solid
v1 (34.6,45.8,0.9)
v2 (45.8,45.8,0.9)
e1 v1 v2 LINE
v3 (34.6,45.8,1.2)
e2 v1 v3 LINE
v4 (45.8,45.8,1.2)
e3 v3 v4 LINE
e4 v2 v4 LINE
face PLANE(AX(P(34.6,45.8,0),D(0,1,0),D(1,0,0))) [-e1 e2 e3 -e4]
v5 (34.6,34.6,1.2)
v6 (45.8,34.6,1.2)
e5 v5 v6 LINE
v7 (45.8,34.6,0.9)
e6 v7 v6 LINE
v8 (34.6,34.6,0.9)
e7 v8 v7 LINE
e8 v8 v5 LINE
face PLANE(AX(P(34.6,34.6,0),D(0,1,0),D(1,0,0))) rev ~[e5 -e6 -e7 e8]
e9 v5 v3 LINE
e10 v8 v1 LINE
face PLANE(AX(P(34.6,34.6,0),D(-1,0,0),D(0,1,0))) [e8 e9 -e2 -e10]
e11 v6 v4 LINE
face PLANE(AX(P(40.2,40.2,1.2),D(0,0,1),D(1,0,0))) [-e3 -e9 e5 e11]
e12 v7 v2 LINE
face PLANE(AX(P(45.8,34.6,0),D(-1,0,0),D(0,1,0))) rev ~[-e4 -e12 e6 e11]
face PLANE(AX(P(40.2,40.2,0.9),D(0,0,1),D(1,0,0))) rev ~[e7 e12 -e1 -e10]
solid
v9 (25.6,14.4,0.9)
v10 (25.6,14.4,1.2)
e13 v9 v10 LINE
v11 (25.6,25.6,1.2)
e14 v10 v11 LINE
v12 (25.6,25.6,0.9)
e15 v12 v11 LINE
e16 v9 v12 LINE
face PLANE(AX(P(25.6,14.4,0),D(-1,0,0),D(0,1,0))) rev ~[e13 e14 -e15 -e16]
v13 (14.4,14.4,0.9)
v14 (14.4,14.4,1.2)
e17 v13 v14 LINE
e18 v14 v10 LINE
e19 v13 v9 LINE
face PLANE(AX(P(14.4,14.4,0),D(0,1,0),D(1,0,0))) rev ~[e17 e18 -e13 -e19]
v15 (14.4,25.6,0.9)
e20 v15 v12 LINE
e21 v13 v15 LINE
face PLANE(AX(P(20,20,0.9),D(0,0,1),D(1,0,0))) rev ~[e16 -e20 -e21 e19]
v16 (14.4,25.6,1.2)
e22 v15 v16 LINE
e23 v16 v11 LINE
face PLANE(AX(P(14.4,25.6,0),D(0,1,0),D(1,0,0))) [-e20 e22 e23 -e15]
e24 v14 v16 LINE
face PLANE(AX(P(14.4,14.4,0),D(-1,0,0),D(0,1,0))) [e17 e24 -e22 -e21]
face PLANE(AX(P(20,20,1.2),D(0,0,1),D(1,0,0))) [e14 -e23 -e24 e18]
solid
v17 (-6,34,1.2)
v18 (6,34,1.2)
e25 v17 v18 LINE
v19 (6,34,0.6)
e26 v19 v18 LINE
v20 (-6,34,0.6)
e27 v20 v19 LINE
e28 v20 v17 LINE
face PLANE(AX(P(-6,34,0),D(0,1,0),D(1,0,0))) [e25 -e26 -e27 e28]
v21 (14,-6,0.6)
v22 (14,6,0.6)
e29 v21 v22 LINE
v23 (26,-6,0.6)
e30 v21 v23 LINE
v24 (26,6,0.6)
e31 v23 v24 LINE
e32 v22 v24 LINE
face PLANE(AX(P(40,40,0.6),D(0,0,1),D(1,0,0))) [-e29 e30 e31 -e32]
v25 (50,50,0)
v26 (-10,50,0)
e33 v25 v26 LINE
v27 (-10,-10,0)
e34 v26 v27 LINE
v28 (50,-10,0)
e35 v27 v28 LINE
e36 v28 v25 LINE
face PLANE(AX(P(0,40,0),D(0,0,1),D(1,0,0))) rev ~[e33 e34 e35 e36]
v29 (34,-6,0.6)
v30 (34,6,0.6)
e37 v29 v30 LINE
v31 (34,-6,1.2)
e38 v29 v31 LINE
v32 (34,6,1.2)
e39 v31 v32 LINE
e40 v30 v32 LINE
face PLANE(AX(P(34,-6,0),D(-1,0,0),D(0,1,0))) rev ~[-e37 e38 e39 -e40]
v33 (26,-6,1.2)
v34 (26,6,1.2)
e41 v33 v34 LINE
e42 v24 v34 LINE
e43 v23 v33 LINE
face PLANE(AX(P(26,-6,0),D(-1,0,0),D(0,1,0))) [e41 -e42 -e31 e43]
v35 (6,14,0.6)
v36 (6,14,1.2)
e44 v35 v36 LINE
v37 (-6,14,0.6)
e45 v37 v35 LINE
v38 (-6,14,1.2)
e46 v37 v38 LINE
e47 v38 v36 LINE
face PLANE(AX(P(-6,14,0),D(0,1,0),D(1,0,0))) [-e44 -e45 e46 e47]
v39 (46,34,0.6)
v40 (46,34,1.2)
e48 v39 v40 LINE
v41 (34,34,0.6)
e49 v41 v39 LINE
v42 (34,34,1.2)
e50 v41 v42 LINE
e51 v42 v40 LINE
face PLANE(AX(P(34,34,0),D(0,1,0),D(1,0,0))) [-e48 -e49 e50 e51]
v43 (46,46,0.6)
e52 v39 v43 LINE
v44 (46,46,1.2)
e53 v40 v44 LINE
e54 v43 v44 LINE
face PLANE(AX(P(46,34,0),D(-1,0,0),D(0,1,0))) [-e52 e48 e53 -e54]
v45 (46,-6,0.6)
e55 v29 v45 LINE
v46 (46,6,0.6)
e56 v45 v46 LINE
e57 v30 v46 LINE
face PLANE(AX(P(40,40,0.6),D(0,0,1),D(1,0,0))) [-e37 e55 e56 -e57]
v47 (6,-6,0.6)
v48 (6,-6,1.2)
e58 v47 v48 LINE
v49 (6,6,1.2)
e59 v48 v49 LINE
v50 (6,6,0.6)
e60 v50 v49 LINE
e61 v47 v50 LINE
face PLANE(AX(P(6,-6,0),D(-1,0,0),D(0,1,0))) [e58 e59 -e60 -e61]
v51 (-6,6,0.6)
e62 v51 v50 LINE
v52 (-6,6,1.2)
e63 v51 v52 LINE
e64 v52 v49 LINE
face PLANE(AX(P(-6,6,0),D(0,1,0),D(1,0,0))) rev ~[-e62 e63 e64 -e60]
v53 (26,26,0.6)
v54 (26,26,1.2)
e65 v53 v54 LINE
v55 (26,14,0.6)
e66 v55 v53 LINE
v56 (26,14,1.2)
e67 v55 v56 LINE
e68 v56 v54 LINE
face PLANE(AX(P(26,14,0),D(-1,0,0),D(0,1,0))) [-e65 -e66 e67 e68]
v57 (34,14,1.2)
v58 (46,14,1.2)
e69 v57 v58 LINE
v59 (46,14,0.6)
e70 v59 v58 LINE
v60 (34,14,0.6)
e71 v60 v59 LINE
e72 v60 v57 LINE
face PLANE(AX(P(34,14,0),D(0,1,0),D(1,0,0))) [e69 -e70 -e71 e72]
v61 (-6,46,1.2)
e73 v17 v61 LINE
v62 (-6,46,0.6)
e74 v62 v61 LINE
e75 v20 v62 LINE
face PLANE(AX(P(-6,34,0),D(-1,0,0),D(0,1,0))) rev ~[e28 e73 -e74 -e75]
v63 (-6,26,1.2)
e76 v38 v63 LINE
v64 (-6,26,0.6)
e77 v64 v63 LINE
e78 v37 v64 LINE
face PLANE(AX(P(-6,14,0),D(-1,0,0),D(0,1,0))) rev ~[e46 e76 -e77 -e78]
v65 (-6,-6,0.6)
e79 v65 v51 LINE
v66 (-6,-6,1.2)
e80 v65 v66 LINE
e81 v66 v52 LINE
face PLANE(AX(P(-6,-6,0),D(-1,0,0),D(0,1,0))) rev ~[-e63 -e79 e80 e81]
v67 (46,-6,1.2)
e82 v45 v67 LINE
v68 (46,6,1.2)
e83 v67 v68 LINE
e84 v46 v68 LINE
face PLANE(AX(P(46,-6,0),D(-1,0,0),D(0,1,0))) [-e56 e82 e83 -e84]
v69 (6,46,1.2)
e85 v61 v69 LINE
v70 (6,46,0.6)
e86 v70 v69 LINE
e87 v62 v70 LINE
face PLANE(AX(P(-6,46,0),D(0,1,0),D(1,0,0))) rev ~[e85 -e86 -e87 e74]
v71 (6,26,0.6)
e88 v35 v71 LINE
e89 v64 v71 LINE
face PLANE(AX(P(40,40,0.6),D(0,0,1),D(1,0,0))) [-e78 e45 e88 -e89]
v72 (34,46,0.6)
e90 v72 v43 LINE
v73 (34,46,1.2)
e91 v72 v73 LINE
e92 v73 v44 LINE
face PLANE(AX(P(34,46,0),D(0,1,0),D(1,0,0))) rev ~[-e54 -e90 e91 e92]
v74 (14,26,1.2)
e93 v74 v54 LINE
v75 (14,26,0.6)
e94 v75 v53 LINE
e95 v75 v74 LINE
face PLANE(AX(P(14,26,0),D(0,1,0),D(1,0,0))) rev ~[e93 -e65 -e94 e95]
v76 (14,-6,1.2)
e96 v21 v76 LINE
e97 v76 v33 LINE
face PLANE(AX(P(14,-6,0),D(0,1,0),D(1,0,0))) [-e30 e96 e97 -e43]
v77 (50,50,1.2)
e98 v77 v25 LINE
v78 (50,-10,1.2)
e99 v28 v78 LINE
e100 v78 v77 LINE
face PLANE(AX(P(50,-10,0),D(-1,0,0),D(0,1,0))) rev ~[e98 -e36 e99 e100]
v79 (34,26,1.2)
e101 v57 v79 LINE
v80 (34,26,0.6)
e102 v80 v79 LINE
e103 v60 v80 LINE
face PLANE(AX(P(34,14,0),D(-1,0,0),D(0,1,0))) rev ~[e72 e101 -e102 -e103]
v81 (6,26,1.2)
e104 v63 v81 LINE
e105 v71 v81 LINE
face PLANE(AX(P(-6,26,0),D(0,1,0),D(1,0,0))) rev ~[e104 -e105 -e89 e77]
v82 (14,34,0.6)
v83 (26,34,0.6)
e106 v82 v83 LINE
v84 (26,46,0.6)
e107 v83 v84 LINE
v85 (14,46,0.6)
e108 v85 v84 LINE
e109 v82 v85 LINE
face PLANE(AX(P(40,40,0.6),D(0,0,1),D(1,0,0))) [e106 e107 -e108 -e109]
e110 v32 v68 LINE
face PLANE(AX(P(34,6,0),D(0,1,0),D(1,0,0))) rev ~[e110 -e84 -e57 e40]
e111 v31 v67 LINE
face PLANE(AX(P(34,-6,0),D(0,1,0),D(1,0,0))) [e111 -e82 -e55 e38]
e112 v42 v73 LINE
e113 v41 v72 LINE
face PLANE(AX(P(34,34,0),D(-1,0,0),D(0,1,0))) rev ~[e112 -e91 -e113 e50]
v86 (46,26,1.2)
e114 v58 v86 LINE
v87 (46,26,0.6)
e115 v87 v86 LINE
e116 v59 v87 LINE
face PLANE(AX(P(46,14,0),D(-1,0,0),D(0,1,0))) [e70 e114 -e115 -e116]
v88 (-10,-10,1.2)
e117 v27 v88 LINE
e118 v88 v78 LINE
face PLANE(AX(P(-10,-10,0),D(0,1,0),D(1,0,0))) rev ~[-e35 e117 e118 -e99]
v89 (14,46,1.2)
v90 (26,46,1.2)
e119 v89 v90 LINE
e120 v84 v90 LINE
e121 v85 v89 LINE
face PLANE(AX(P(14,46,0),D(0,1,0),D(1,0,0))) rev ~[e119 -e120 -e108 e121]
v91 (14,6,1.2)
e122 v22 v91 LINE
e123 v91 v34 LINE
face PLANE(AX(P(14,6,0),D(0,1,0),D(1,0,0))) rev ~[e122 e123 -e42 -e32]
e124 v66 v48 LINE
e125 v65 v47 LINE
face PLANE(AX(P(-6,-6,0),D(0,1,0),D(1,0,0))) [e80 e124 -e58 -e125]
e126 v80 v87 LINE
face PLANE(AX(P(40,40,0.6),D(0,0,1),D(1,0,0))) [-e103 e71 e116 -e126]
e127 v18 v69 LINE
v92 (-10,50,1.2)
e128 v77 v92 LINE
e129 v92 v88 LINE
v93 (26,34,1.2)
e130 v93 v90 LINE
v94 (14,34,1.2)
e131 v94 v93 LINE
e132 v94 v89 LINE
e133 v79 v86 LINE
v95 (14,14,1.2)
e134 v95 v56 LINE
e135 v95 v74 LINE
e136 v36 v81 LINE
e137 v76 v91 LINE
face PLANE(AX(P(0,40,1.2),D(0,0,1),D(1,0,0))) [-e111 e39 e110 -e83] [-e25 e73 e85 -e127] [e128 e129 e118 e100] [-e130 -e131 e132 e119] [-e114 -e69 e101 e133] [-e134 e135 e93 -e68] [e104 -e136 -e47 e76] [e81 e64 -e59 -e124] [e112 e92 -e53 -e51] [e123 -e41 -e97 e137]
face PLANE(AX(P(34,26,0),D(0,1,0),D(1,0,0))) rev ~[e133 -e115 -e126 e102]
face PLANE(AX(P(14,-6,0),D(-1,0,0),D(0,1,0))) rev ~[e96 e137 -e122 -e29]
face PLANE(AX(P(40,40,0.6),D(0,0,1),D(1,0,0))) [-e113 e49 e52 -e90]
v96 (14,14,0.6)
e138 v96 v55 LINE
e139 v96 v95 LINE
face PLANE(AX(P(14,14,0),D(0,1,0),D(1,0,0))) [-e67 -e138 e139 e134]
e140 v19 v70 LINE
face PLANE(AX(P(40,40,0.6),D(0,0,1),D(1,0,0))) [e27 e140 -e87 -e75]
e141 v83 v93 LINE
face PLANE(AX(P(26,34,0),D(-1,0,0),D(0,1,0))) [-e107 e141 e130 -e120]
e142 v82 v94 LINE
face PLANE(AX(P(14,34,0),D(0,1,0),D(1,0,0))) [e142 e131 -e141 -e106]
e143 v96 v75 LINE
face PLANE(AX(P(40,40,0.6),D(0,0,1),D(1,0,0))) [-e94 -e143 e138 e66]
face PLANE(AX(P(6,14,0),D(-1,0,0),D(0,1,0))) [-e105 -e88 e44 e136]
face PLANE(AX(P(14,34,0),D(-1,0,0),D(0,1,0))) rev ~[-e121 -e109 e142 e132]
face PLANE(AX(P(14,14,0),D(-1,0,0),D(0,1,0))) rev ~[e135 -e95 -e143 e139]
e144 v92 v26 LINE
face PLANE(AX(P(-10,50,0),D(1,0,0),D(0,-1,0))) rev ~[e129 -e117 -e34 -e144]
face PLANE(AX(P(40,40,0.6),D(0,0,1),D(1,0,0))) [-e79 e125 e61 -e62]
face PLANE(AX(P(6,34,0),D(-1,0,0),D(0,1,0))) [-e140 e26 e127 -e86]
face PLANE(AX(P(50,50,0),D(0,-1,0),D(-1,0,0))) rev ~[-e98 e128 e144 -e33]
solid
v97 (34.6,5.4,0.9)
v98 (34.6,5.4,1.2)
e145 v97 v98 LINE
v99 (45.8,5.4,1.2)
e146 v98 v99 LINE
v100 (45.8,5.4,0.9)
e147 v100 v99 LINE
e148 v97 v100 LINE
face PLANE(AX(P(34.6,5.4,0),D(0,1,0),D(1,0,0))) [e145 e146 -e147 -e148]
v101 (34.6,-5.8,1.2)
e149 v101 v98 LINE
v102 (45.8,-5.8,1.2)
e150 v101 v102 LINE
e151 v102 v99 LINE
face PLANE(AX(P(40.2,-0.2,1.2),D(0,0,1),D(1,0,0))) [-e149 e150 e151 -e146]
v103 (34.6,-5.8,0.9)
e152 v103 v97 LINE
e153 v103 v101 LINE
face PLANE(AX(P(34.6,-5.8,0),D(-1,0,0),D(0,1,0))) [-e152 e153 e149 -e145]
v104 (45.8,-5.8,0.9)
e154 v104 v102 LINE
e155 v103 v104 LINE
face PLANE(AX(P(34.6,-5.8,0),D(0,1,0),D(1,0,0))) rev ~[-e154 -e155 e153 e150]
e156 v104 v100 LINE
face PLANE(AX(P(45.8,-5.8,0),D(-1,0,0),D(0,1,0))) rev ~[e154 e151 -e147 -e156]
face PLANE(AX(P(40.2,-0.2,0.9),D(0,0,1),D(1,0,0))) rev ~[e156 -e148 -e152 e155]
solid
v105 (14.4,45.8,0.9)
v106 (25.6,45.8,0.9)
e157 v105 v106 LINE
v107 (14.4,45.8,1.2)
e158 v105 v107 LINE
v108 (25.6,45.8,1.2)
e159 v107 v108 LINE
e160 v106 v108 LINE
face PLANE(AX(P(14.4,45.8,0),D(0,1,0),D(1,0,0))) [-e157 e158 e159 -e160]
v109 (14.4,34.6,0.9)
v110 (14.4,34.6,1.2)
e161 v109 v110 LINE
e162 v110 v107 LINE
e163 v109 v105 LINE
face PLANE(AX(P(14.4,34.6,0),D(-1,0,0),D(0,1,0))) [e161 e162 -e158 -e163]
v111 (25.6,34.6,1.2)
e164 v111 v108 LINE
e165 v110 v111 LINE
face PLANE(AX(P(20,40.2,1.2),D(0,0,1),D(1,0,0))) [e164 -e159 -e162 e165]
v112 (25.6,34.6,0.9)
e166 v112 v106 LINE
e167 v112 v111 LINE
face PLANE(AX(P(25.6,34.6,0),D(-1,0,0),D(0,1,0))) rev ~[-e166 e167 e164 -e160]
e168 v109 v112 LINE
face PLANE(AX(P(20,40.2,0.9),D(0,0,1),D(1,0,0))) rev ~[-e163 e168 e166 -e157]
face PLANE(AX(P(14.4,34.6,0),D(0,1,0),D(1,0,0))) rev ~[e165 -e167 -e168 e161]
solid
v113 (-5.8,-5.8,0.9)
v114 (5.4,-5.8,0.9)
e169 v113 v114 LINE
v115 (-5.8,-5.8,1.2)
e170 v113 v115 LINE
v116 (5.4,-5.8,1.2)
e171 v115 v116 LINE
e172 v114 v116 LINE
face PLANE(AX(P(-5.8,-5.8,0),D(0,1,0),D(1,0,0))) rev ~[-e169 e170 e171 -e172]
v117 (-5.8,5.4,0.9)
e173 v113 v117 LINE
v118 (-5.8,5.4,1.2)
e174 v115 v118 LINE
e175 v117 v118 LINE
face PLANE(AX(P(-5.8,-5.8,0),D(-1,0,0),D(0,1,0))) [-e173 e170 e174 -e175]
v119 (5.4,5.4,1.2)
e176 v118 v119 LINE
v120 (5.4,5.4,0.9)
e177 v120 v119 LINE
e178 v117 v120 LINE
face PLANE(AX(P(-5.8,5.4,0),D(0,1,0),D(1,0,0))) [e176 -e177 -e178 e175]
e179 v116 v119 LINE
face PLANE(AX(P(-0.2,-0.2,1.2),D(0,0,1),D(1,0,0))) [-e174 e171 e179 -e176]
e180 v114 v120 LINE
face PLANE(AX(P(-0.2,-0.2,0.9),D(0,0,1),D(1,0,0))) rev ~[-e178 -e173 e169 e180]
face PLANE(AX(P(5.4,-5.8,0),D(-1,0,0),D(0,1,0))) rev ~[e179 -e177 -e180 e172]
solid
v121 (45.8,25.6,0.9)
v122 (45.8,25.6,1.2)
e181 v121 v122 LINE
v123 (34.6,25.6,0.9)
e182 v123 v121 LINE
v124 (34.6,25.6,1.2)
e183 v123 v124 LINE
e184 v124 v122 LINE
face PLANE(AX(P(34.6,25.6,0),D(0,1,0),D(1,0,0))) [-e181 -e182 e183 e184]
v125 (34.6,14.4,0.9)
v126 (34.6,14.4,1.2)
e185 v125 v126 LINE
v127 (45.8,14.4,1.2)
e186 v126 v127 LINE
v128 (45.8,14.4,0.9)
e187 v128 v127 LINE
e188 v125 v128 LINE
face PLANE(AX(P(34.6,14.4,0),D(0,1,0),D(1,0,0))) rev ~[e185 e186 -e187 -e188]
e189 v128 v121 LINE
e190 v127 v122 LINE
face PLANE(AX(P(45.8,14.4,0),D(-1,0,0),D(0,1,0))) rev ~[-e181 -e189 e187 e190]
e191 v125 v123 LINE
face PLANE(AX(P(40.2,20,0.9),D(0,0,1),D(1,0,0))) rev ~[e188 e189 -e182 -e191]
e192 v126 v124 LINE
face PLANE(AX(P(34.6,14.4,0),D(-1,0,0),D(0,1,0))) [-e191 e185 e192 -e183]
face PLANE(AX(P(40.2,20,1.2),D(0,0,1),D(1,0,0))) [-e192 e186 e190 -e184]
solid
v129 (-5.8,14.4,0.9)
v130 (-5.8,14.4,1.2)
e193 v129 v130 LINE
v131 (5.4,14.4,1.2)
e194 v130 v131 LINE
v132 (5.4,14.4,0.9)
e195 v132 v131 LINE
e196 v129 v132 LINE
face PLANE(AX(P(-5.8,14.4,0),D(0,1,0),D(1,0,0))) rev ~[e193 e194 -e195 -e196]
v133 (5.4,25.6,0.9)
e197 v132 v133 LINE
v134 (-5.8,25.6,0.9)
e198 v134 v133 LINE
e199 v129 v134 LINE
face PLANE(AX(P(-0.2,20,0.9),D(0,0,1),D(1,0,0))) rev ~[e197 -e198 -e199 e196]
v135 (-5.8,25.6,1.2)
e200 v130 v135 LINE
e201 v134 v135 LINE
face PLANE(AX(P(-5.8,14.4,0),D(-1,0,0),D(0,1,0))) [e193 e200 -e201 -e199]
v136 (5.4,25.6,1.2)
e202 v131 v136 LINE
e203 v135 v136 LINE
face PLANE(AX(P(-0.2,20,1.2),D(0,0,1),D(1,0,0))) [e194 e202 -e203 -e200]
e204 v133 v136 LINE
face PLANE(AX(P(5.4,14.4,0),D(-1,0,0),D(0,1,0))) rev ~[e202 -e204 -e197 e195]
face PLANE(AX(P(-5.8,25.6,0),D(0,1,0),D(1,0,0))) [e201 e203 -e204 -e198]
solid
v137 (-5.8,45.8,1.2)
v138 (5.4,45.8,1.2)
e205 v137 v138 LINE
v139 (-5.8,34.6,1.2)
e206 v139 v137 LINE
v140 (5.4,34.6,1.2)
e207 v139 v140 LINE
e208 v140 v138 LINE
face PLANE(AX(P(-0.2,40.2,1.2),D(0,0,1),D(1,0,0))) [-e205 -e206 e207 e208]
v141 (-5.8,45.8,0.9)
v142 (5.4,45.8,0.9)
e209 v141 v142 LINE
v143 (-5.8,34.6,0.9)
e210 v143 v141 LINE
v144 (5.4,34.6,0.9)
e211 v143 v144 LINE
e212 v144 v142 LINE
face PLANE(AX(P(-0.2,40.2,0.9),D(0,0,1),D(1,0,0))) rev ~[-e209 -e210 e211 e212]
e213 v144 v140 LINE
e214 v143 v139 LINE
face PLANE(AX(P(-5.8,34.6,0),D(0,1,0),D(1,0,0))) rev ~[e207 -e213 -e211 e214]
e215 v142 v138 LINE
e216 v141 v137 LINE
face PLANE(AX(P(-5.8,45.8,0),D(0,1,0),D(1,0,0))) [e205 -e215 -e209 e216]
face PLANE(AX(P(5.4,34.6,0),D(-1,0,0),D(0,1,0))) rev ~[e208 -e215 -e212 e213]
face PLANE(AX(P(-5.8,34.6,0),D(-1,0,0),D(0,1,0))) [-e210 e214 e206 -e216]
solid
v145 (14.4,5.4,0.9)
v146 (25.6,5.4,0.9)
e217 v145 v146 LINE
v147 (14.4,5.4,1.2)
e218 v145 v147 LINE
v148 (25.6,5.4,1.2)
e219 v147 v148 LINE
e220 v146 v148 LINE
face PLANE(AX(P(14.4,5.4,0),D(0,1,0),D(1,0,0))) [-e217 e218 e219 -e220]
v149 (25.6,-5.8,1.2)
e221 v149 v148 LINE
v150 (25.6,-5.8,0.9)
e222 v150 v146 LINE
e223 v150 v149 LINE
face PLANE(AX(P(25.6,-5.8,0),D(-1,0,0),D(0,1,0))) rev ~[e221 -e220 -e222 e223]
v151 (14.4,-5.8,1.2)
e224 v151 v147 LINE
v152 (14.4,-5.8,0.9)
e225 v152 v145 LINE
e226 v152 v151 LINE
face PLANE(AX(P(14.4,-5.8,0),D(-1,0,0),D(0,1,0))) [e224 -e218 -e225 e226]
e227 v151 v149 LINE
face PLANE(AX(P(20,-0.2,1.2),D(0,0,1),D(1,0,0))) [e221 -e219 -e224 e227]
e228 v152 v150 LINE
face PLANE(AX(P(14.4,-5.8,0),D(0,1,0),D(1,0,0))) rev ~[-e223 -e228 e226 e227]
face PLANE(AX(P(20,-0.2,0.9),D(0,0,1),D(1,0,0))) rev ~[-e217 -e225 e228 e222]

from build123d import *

# Parameters (mm, degrees)
F0_W     = 11.2
F0_H     = 11.2
F1_DEPTH = 1.2
F2_DEPTH = 0.9
F0_W_2   = 20
F0_H_2   = 20
F0_W_3   = 12
F0_H_3   = 12
F3_DEPTH = 1.2
F4_DEPTH = 0.6


with BuildPart() as f1:
    # F0 (on Top) → F1 (new body)
    with BuildSketch(Plane.XY):
        with Locations((-0.2, 40.2)):
            Rectangle(F0_W, F0_H)
    extrude(amount=F1_DEPTH)


with BuildPart() as f1b:
    # F0 (on Top) → F1, piece 2 (new body)
    with BuildSketch(Plane.XY):
        with Locations((20, 40.2)):
            Rectangle(F0_W, F0_H)
    extrude(amount=F1_DEPTH)


with BuildPart() as f1c:
    # F0 (on Top) → F1, piece 3 (new body)
    with BuildSketch(Plane.XY):
        with Locations((40.2, 40.2)):
            Rectangle(F0_W, F0_H)
    extrude(amount=F1_DEPTH)


with BuildPart() as f1d:
    # F0 (on Top) → F1, piece 4 (new body)
    with BuildSketch(Plane.XY):
        with Locations((40.2, 20)):
            Rectangle(F0_W, F0_H)
    extrude(amount=F1_DEPTH)


with BuildPart() as f1e:
    # F0 (on Top) → F1, piece 5 (new body)
    with BuildSketch(Plane.XY):
        with Locations((20, 20)):
            Rectangle(F0_W, F0_H)
    extrude(amount=F1_DEPTH)


with BuildPart() as f1f:
    # F0 (on Top) → F1, piece 6 (new body)
    with BuildSketch(Plane.XY):
        with Locations((-0.2, 20)):
            Rectangle(F0_W, F0_H)
    extrude(amount=F1_DEPTH)


with BuildPart() as f1g:
    # F0 (on Top) → F1, piece 7 (new body)
    with BuildSketch(Plane.XY):
        with Locations((-0.2, -0.2)):
            Rectangle(F0_W, F0_H)
    extrude(amount=F1_DEPTH)


with BuildPart() as f1h:
    # F0 (on Top) → F1, piece 8 (new body)
    with BuildSketch(Plane.XY):
        with Locations((20, -0.2)):
            Rectangle(F0_W, F0_H)
    extrude(amount=F1_DEPTH)


with BuildPart() as f1i:
    # F0 (on Top) → F1, piece 9 (new body)
    with BuildSketch(Plane.XY):
        with Locations((40.2, -0.2)):
            Rectangle(F0_W, F0_H)
    extrude(amount=F1_DEPTH)


with BuildPart() as f2_tool:
    # F0 (on Top) → F2 (new body)
    with BuildSketch(Plane.XY):
        with Locations((-0.2, -0.2)):
            Rectangle(F0_W, F0_H)
        with Locations((20, -0.2)):
            Rectangle(F0_W, F0_H)
        with Locations((40.2, -0.2)):
            Rectangle(F0_W, F0_H)
        with Locations((-0.2, 20)):
            Rectangle(F0_W, F0_H)
        with Locations((20, 20)):
            Rectangle(F0_W, F0_H)
        with Locations((40.2, 20)):
            Rectangle(F0_W, F0_H)
        with Locations((-0.2, 40.2)):
            Rectangle(F0_W, F0_H)
        with Locations((20, 40.2)):
            Rectangle(F0_W, F0_H)
        with Locations((40.2, 40.2)):
            Rectangle(F0_W, F0_H)
    extrude(amount=F2_DEPTH)


with BuildPart() as f1_1:
    add(f1.part)

    # F2: cut by f2_tool
    add(f2_tool.part, mode=Mode.SUBTRACT)


with BuildPart() as f1b_1:
    add(f1b.part)

    # F2: cut by f2_tool
    add(f2_tool.part, mode=Mode.SUBTRACT)


with BuildPart() as f1c_1:
    add(f1c.part)

    # F2: cut by f2_tool
    add(f2_tool.part, mode=Mode.SUBTRACT)


with BuildPart() as f1d_1:
    add(f1d.part)

    # F2: cut by f2_tool
    add(f2_tool.part, mode=Mode.SUBTRACT)


with BuildPart() as f1e_1:
    add(f1e.part)

    # F2: cut by f2_tool
    add(f2_tool.part, mode=Mode.SUBTRACT)


with BuildPart() as f1f_1:
    add(f1f.part)

    # F2: cut by f2_tool
    add(f2_tool.part, mode=Mode.SUBTRACT)


with BuildPart() as f1g_1:
    add(f1g.part)

    # F2: cut by f2_tool
    add(f2_tool.part, mode=Mode.SUBTRACT)


with BuildPart() as f1h_1:
    add(f1h.part)

    # F2: cut by f2_tool
    add(f2_tool.part, mode=Mode.SUBTRACT)


with BuildPart() as f1i_1:
    add(f1i.part)

    # F2: cut by f2_tool
    add(f2_tool.part, mode=Mode.SUBTRACT)


with BuildPart() as f3:
    # F0 (on Top) → F3 (new body)
    with BuildSketch(Plane.XY):
        with Locations((0, 40)):
            Rectangle(F0_W_2, F0_H_2)
        with Locations((0, 40)):
            Rectangle(F0_W_3, F0_H_3, mode=Mode.SUBTRACT)
        with Locations((20, 40)):
            Rectangle(F0_W_2, F0_H_2)
        with Locations((20, 40)):
            Rectangle(F0_W_3, F0_H_3, mode=Mode.SUBTRACT)
        with Locations((40, 40)):
            Rectangle(F0_W_2, F0_H_2)
        with Locations((40, 40)):
            Rectangle(F0_W_3, F0_H_3, mode=Mode.SUBTRACT)
        with Locations((40, 20)):
            Rectangle(F0_W_2, F0_H_2)
        with Locations((40, 20)):
            Rectangle(F0_W_3, F0_H_3, mode=Mode.SUBTRACT)
        with Locations((20, 20)):
            Rectangle(F0_W_2, F0_H_2)
        with Locations((20, 20)):
            Rectangle(F0_W_3, F0_H_3, mode=Mode.SUBTRACT)
        with Locations((0, 20)):
            Rectangle(F0_W_2, F0_H_2)
        with Locations((0, 20)):
            Rectangle(F0_W_3, F0_H_3, mode=Mode.SUBTRACT)
        Rectangle(F0_W_2, F0_H_2)
        Rectangle(F0_W_3, F0_H_3, mode=Mode.SUBTRACT)
        with Locations((20, 0)):
            Rectangle(F0_W_2, F0_H_2)
        with Locations((20, 0)):
            Rectangle(F0_W_3, F0_H_3, mode=Mode.SUBTRACT)
        with Locations((40, 0)):
            Rectangle(F0_W_2, F0_H_2)
        with Locations((40, 0)):
            Rectangle(F0_W_3, F0_H_3, mode=Mode.SUBTRACT)
    extrude(amount=F3_DEPTH)

    # F0 (on Top) → F4 (join)
    with BuildSketch(Plane.XY):
        with Locations((40, 40)):
            Rectangle(F0_W_2, F0_H_2)
        with Locations((40, 40)):
            Rectangle(F0_W_3, F0_H_3, mode=Mode.SUBTRACT)
        with Locations((40, 20)):
            Rectangle(F0_W_2, F0_H_2)
        with Locations((40, 20)):
            Rectangle(F0_W_3, F0_H_3, mode=Mode.SUBTRACT)
        with Locations((40, 0)):
            Rectangle(F0_W_2, F0_H_2)
        with Locations((40, 0)):
            Rectangle(F0_W_3, F0_H_3, mode=Mode.SUBTRACT)
        with Locations((20, 0)):
            Rectangle(F0_W_2, F0_H_2)
        with Locations((20, 0)):
            Rectangle(F0_W_3, F0_H_3, mode=Mode.SUBTRACT)
        with Locations((20, 20)):
            Rectangle(F0_W_2, F0_H_2)
        with Locations((20, 20)):
            Rectangle(F0_W_3, F0_H_3, mode=Mode.SUBTRACT)
        with Locations((20, 40)):
            Rectangle(F0_W_2, F0_H_2)
        with Locations((20, 40)):
            Rectangle(F0_W_3, F0_H_3, mode=Mode.SUBTRACT)
        with Locations((0, 40)):
            Rectangle(F0_W_2, F0_H_2)
        with Locations((0, 40)):
            Rectangle(F0_W_3, F0_H_3, mode=Mode.SUBTRACT)
        with Locations((0, 20)):
            Rectangle(F0_W_2, F0_H_2)
        with Locations((0, 20)):
            Rectangle(F0_W_3, F0_H_3, mode=Mode.SUBTRACT)
        Rectangle(F0_W_2, F0_H_2)
        Rectangle(F0_W_3, F0_H_3, mode=Mode.SUBTRACT)
        with Locations((40, 40)):
            Rectangle(F0_W_3, F0_H_3)
        with Locations((40.2, 40.2)):
            Rectangle(F0_W, F0_H, mode=Mode.SUBTRACT)
        with Locations((40, 20)):
            Rectangle(F0_W_3, F0_H_3)
        with Locations((40.2, 20)):
            Rectangle(F0_W, F0_H, mode=Mode.SUBTRACT)
        with Locations((0, 40)):
            Rectangle(F0_W_3, F0_H_3)
        with Locations((-0.2, 40.2)):
            Rectangle(F0_W, F0_H, mode=Mode.SUBTRACT)
        with Locations((20, 40)):
            Rectangle(F0_W_3, F0_H_3)
        with Locations((20, 40.2)):
            Rectangle(F0_W, F0_H, mode=Mode.SUBTRACT)
        with Locations((20, 20)):
            Rectangle(F0_W_3, F0_H_3)
        with Locations((20, 20)):
            Rectangle(F0_W, F0_H, mode=Mode.SUBTRACT)
        with Locations((0, 20)):
            Rectangle(F0_W_3, F0_H_3)
        with Locations((-0.2, 20)):
            Rectangle(F0_W, F0_H, mode=Mode.SUBTRACT)
        Rectangle(F0_W_3, F0_H_3)
        with Locations((-0.2, -0.2)):
            Rectangle(F0_W, F0_H, mode=Mode.SUBTRACT)
        with Locations((20, 0)):
            Rectangle(F0_W_3, F0_H_3)
        with Locations((20, -0.2)):
            Rectangle(F0_W, F0_H, mode=Mode.SUBTRACT)
        with Locations((40, 0)):
            Rectangle(F0_W_3, F0_H_3)
        with Locations((40.2, -0.2)):
            Rectangle(F0_W, F0_H, mode=Mode.SUBTRACT)
        with Locations((40.2, 40.2)):
            Rectangle(F0_W, F0_H)
        with Locations((40.2, 20)):
            Rectangle(F0_W, F0_H)
        with Locations((-0.2, -0.2)):
            Rectangle(F0_W, F0_H)
        with Locations((20, -0.2)):
            Rectangle(F0_W, F0_H)
        with Locations((40.2, -0.2)):
            Rectangle(F0_W, F0_H)
        with Locations((20, 20)):
            Rectangle(F0_W, F0_H)
        with Locations((20, 40.2)):
            Rectangle(F0_W, F0_H)
        with Locations((-0.2, 20)):
            Rectangle(F0_W, F0_H)
        with Locations((-0.2, 40.2)):
            Rectangle(F0_W, F0_H)
    extrude(amount=F4_DEPTH)


solid = Compound([f1_1.part, f1b_1.part, f1c_1.part, f1d_1.part, f1e_1.part, f1f_1.part, f1g_1.part, f1h_1.part, f1i_1.part, f3.part])
